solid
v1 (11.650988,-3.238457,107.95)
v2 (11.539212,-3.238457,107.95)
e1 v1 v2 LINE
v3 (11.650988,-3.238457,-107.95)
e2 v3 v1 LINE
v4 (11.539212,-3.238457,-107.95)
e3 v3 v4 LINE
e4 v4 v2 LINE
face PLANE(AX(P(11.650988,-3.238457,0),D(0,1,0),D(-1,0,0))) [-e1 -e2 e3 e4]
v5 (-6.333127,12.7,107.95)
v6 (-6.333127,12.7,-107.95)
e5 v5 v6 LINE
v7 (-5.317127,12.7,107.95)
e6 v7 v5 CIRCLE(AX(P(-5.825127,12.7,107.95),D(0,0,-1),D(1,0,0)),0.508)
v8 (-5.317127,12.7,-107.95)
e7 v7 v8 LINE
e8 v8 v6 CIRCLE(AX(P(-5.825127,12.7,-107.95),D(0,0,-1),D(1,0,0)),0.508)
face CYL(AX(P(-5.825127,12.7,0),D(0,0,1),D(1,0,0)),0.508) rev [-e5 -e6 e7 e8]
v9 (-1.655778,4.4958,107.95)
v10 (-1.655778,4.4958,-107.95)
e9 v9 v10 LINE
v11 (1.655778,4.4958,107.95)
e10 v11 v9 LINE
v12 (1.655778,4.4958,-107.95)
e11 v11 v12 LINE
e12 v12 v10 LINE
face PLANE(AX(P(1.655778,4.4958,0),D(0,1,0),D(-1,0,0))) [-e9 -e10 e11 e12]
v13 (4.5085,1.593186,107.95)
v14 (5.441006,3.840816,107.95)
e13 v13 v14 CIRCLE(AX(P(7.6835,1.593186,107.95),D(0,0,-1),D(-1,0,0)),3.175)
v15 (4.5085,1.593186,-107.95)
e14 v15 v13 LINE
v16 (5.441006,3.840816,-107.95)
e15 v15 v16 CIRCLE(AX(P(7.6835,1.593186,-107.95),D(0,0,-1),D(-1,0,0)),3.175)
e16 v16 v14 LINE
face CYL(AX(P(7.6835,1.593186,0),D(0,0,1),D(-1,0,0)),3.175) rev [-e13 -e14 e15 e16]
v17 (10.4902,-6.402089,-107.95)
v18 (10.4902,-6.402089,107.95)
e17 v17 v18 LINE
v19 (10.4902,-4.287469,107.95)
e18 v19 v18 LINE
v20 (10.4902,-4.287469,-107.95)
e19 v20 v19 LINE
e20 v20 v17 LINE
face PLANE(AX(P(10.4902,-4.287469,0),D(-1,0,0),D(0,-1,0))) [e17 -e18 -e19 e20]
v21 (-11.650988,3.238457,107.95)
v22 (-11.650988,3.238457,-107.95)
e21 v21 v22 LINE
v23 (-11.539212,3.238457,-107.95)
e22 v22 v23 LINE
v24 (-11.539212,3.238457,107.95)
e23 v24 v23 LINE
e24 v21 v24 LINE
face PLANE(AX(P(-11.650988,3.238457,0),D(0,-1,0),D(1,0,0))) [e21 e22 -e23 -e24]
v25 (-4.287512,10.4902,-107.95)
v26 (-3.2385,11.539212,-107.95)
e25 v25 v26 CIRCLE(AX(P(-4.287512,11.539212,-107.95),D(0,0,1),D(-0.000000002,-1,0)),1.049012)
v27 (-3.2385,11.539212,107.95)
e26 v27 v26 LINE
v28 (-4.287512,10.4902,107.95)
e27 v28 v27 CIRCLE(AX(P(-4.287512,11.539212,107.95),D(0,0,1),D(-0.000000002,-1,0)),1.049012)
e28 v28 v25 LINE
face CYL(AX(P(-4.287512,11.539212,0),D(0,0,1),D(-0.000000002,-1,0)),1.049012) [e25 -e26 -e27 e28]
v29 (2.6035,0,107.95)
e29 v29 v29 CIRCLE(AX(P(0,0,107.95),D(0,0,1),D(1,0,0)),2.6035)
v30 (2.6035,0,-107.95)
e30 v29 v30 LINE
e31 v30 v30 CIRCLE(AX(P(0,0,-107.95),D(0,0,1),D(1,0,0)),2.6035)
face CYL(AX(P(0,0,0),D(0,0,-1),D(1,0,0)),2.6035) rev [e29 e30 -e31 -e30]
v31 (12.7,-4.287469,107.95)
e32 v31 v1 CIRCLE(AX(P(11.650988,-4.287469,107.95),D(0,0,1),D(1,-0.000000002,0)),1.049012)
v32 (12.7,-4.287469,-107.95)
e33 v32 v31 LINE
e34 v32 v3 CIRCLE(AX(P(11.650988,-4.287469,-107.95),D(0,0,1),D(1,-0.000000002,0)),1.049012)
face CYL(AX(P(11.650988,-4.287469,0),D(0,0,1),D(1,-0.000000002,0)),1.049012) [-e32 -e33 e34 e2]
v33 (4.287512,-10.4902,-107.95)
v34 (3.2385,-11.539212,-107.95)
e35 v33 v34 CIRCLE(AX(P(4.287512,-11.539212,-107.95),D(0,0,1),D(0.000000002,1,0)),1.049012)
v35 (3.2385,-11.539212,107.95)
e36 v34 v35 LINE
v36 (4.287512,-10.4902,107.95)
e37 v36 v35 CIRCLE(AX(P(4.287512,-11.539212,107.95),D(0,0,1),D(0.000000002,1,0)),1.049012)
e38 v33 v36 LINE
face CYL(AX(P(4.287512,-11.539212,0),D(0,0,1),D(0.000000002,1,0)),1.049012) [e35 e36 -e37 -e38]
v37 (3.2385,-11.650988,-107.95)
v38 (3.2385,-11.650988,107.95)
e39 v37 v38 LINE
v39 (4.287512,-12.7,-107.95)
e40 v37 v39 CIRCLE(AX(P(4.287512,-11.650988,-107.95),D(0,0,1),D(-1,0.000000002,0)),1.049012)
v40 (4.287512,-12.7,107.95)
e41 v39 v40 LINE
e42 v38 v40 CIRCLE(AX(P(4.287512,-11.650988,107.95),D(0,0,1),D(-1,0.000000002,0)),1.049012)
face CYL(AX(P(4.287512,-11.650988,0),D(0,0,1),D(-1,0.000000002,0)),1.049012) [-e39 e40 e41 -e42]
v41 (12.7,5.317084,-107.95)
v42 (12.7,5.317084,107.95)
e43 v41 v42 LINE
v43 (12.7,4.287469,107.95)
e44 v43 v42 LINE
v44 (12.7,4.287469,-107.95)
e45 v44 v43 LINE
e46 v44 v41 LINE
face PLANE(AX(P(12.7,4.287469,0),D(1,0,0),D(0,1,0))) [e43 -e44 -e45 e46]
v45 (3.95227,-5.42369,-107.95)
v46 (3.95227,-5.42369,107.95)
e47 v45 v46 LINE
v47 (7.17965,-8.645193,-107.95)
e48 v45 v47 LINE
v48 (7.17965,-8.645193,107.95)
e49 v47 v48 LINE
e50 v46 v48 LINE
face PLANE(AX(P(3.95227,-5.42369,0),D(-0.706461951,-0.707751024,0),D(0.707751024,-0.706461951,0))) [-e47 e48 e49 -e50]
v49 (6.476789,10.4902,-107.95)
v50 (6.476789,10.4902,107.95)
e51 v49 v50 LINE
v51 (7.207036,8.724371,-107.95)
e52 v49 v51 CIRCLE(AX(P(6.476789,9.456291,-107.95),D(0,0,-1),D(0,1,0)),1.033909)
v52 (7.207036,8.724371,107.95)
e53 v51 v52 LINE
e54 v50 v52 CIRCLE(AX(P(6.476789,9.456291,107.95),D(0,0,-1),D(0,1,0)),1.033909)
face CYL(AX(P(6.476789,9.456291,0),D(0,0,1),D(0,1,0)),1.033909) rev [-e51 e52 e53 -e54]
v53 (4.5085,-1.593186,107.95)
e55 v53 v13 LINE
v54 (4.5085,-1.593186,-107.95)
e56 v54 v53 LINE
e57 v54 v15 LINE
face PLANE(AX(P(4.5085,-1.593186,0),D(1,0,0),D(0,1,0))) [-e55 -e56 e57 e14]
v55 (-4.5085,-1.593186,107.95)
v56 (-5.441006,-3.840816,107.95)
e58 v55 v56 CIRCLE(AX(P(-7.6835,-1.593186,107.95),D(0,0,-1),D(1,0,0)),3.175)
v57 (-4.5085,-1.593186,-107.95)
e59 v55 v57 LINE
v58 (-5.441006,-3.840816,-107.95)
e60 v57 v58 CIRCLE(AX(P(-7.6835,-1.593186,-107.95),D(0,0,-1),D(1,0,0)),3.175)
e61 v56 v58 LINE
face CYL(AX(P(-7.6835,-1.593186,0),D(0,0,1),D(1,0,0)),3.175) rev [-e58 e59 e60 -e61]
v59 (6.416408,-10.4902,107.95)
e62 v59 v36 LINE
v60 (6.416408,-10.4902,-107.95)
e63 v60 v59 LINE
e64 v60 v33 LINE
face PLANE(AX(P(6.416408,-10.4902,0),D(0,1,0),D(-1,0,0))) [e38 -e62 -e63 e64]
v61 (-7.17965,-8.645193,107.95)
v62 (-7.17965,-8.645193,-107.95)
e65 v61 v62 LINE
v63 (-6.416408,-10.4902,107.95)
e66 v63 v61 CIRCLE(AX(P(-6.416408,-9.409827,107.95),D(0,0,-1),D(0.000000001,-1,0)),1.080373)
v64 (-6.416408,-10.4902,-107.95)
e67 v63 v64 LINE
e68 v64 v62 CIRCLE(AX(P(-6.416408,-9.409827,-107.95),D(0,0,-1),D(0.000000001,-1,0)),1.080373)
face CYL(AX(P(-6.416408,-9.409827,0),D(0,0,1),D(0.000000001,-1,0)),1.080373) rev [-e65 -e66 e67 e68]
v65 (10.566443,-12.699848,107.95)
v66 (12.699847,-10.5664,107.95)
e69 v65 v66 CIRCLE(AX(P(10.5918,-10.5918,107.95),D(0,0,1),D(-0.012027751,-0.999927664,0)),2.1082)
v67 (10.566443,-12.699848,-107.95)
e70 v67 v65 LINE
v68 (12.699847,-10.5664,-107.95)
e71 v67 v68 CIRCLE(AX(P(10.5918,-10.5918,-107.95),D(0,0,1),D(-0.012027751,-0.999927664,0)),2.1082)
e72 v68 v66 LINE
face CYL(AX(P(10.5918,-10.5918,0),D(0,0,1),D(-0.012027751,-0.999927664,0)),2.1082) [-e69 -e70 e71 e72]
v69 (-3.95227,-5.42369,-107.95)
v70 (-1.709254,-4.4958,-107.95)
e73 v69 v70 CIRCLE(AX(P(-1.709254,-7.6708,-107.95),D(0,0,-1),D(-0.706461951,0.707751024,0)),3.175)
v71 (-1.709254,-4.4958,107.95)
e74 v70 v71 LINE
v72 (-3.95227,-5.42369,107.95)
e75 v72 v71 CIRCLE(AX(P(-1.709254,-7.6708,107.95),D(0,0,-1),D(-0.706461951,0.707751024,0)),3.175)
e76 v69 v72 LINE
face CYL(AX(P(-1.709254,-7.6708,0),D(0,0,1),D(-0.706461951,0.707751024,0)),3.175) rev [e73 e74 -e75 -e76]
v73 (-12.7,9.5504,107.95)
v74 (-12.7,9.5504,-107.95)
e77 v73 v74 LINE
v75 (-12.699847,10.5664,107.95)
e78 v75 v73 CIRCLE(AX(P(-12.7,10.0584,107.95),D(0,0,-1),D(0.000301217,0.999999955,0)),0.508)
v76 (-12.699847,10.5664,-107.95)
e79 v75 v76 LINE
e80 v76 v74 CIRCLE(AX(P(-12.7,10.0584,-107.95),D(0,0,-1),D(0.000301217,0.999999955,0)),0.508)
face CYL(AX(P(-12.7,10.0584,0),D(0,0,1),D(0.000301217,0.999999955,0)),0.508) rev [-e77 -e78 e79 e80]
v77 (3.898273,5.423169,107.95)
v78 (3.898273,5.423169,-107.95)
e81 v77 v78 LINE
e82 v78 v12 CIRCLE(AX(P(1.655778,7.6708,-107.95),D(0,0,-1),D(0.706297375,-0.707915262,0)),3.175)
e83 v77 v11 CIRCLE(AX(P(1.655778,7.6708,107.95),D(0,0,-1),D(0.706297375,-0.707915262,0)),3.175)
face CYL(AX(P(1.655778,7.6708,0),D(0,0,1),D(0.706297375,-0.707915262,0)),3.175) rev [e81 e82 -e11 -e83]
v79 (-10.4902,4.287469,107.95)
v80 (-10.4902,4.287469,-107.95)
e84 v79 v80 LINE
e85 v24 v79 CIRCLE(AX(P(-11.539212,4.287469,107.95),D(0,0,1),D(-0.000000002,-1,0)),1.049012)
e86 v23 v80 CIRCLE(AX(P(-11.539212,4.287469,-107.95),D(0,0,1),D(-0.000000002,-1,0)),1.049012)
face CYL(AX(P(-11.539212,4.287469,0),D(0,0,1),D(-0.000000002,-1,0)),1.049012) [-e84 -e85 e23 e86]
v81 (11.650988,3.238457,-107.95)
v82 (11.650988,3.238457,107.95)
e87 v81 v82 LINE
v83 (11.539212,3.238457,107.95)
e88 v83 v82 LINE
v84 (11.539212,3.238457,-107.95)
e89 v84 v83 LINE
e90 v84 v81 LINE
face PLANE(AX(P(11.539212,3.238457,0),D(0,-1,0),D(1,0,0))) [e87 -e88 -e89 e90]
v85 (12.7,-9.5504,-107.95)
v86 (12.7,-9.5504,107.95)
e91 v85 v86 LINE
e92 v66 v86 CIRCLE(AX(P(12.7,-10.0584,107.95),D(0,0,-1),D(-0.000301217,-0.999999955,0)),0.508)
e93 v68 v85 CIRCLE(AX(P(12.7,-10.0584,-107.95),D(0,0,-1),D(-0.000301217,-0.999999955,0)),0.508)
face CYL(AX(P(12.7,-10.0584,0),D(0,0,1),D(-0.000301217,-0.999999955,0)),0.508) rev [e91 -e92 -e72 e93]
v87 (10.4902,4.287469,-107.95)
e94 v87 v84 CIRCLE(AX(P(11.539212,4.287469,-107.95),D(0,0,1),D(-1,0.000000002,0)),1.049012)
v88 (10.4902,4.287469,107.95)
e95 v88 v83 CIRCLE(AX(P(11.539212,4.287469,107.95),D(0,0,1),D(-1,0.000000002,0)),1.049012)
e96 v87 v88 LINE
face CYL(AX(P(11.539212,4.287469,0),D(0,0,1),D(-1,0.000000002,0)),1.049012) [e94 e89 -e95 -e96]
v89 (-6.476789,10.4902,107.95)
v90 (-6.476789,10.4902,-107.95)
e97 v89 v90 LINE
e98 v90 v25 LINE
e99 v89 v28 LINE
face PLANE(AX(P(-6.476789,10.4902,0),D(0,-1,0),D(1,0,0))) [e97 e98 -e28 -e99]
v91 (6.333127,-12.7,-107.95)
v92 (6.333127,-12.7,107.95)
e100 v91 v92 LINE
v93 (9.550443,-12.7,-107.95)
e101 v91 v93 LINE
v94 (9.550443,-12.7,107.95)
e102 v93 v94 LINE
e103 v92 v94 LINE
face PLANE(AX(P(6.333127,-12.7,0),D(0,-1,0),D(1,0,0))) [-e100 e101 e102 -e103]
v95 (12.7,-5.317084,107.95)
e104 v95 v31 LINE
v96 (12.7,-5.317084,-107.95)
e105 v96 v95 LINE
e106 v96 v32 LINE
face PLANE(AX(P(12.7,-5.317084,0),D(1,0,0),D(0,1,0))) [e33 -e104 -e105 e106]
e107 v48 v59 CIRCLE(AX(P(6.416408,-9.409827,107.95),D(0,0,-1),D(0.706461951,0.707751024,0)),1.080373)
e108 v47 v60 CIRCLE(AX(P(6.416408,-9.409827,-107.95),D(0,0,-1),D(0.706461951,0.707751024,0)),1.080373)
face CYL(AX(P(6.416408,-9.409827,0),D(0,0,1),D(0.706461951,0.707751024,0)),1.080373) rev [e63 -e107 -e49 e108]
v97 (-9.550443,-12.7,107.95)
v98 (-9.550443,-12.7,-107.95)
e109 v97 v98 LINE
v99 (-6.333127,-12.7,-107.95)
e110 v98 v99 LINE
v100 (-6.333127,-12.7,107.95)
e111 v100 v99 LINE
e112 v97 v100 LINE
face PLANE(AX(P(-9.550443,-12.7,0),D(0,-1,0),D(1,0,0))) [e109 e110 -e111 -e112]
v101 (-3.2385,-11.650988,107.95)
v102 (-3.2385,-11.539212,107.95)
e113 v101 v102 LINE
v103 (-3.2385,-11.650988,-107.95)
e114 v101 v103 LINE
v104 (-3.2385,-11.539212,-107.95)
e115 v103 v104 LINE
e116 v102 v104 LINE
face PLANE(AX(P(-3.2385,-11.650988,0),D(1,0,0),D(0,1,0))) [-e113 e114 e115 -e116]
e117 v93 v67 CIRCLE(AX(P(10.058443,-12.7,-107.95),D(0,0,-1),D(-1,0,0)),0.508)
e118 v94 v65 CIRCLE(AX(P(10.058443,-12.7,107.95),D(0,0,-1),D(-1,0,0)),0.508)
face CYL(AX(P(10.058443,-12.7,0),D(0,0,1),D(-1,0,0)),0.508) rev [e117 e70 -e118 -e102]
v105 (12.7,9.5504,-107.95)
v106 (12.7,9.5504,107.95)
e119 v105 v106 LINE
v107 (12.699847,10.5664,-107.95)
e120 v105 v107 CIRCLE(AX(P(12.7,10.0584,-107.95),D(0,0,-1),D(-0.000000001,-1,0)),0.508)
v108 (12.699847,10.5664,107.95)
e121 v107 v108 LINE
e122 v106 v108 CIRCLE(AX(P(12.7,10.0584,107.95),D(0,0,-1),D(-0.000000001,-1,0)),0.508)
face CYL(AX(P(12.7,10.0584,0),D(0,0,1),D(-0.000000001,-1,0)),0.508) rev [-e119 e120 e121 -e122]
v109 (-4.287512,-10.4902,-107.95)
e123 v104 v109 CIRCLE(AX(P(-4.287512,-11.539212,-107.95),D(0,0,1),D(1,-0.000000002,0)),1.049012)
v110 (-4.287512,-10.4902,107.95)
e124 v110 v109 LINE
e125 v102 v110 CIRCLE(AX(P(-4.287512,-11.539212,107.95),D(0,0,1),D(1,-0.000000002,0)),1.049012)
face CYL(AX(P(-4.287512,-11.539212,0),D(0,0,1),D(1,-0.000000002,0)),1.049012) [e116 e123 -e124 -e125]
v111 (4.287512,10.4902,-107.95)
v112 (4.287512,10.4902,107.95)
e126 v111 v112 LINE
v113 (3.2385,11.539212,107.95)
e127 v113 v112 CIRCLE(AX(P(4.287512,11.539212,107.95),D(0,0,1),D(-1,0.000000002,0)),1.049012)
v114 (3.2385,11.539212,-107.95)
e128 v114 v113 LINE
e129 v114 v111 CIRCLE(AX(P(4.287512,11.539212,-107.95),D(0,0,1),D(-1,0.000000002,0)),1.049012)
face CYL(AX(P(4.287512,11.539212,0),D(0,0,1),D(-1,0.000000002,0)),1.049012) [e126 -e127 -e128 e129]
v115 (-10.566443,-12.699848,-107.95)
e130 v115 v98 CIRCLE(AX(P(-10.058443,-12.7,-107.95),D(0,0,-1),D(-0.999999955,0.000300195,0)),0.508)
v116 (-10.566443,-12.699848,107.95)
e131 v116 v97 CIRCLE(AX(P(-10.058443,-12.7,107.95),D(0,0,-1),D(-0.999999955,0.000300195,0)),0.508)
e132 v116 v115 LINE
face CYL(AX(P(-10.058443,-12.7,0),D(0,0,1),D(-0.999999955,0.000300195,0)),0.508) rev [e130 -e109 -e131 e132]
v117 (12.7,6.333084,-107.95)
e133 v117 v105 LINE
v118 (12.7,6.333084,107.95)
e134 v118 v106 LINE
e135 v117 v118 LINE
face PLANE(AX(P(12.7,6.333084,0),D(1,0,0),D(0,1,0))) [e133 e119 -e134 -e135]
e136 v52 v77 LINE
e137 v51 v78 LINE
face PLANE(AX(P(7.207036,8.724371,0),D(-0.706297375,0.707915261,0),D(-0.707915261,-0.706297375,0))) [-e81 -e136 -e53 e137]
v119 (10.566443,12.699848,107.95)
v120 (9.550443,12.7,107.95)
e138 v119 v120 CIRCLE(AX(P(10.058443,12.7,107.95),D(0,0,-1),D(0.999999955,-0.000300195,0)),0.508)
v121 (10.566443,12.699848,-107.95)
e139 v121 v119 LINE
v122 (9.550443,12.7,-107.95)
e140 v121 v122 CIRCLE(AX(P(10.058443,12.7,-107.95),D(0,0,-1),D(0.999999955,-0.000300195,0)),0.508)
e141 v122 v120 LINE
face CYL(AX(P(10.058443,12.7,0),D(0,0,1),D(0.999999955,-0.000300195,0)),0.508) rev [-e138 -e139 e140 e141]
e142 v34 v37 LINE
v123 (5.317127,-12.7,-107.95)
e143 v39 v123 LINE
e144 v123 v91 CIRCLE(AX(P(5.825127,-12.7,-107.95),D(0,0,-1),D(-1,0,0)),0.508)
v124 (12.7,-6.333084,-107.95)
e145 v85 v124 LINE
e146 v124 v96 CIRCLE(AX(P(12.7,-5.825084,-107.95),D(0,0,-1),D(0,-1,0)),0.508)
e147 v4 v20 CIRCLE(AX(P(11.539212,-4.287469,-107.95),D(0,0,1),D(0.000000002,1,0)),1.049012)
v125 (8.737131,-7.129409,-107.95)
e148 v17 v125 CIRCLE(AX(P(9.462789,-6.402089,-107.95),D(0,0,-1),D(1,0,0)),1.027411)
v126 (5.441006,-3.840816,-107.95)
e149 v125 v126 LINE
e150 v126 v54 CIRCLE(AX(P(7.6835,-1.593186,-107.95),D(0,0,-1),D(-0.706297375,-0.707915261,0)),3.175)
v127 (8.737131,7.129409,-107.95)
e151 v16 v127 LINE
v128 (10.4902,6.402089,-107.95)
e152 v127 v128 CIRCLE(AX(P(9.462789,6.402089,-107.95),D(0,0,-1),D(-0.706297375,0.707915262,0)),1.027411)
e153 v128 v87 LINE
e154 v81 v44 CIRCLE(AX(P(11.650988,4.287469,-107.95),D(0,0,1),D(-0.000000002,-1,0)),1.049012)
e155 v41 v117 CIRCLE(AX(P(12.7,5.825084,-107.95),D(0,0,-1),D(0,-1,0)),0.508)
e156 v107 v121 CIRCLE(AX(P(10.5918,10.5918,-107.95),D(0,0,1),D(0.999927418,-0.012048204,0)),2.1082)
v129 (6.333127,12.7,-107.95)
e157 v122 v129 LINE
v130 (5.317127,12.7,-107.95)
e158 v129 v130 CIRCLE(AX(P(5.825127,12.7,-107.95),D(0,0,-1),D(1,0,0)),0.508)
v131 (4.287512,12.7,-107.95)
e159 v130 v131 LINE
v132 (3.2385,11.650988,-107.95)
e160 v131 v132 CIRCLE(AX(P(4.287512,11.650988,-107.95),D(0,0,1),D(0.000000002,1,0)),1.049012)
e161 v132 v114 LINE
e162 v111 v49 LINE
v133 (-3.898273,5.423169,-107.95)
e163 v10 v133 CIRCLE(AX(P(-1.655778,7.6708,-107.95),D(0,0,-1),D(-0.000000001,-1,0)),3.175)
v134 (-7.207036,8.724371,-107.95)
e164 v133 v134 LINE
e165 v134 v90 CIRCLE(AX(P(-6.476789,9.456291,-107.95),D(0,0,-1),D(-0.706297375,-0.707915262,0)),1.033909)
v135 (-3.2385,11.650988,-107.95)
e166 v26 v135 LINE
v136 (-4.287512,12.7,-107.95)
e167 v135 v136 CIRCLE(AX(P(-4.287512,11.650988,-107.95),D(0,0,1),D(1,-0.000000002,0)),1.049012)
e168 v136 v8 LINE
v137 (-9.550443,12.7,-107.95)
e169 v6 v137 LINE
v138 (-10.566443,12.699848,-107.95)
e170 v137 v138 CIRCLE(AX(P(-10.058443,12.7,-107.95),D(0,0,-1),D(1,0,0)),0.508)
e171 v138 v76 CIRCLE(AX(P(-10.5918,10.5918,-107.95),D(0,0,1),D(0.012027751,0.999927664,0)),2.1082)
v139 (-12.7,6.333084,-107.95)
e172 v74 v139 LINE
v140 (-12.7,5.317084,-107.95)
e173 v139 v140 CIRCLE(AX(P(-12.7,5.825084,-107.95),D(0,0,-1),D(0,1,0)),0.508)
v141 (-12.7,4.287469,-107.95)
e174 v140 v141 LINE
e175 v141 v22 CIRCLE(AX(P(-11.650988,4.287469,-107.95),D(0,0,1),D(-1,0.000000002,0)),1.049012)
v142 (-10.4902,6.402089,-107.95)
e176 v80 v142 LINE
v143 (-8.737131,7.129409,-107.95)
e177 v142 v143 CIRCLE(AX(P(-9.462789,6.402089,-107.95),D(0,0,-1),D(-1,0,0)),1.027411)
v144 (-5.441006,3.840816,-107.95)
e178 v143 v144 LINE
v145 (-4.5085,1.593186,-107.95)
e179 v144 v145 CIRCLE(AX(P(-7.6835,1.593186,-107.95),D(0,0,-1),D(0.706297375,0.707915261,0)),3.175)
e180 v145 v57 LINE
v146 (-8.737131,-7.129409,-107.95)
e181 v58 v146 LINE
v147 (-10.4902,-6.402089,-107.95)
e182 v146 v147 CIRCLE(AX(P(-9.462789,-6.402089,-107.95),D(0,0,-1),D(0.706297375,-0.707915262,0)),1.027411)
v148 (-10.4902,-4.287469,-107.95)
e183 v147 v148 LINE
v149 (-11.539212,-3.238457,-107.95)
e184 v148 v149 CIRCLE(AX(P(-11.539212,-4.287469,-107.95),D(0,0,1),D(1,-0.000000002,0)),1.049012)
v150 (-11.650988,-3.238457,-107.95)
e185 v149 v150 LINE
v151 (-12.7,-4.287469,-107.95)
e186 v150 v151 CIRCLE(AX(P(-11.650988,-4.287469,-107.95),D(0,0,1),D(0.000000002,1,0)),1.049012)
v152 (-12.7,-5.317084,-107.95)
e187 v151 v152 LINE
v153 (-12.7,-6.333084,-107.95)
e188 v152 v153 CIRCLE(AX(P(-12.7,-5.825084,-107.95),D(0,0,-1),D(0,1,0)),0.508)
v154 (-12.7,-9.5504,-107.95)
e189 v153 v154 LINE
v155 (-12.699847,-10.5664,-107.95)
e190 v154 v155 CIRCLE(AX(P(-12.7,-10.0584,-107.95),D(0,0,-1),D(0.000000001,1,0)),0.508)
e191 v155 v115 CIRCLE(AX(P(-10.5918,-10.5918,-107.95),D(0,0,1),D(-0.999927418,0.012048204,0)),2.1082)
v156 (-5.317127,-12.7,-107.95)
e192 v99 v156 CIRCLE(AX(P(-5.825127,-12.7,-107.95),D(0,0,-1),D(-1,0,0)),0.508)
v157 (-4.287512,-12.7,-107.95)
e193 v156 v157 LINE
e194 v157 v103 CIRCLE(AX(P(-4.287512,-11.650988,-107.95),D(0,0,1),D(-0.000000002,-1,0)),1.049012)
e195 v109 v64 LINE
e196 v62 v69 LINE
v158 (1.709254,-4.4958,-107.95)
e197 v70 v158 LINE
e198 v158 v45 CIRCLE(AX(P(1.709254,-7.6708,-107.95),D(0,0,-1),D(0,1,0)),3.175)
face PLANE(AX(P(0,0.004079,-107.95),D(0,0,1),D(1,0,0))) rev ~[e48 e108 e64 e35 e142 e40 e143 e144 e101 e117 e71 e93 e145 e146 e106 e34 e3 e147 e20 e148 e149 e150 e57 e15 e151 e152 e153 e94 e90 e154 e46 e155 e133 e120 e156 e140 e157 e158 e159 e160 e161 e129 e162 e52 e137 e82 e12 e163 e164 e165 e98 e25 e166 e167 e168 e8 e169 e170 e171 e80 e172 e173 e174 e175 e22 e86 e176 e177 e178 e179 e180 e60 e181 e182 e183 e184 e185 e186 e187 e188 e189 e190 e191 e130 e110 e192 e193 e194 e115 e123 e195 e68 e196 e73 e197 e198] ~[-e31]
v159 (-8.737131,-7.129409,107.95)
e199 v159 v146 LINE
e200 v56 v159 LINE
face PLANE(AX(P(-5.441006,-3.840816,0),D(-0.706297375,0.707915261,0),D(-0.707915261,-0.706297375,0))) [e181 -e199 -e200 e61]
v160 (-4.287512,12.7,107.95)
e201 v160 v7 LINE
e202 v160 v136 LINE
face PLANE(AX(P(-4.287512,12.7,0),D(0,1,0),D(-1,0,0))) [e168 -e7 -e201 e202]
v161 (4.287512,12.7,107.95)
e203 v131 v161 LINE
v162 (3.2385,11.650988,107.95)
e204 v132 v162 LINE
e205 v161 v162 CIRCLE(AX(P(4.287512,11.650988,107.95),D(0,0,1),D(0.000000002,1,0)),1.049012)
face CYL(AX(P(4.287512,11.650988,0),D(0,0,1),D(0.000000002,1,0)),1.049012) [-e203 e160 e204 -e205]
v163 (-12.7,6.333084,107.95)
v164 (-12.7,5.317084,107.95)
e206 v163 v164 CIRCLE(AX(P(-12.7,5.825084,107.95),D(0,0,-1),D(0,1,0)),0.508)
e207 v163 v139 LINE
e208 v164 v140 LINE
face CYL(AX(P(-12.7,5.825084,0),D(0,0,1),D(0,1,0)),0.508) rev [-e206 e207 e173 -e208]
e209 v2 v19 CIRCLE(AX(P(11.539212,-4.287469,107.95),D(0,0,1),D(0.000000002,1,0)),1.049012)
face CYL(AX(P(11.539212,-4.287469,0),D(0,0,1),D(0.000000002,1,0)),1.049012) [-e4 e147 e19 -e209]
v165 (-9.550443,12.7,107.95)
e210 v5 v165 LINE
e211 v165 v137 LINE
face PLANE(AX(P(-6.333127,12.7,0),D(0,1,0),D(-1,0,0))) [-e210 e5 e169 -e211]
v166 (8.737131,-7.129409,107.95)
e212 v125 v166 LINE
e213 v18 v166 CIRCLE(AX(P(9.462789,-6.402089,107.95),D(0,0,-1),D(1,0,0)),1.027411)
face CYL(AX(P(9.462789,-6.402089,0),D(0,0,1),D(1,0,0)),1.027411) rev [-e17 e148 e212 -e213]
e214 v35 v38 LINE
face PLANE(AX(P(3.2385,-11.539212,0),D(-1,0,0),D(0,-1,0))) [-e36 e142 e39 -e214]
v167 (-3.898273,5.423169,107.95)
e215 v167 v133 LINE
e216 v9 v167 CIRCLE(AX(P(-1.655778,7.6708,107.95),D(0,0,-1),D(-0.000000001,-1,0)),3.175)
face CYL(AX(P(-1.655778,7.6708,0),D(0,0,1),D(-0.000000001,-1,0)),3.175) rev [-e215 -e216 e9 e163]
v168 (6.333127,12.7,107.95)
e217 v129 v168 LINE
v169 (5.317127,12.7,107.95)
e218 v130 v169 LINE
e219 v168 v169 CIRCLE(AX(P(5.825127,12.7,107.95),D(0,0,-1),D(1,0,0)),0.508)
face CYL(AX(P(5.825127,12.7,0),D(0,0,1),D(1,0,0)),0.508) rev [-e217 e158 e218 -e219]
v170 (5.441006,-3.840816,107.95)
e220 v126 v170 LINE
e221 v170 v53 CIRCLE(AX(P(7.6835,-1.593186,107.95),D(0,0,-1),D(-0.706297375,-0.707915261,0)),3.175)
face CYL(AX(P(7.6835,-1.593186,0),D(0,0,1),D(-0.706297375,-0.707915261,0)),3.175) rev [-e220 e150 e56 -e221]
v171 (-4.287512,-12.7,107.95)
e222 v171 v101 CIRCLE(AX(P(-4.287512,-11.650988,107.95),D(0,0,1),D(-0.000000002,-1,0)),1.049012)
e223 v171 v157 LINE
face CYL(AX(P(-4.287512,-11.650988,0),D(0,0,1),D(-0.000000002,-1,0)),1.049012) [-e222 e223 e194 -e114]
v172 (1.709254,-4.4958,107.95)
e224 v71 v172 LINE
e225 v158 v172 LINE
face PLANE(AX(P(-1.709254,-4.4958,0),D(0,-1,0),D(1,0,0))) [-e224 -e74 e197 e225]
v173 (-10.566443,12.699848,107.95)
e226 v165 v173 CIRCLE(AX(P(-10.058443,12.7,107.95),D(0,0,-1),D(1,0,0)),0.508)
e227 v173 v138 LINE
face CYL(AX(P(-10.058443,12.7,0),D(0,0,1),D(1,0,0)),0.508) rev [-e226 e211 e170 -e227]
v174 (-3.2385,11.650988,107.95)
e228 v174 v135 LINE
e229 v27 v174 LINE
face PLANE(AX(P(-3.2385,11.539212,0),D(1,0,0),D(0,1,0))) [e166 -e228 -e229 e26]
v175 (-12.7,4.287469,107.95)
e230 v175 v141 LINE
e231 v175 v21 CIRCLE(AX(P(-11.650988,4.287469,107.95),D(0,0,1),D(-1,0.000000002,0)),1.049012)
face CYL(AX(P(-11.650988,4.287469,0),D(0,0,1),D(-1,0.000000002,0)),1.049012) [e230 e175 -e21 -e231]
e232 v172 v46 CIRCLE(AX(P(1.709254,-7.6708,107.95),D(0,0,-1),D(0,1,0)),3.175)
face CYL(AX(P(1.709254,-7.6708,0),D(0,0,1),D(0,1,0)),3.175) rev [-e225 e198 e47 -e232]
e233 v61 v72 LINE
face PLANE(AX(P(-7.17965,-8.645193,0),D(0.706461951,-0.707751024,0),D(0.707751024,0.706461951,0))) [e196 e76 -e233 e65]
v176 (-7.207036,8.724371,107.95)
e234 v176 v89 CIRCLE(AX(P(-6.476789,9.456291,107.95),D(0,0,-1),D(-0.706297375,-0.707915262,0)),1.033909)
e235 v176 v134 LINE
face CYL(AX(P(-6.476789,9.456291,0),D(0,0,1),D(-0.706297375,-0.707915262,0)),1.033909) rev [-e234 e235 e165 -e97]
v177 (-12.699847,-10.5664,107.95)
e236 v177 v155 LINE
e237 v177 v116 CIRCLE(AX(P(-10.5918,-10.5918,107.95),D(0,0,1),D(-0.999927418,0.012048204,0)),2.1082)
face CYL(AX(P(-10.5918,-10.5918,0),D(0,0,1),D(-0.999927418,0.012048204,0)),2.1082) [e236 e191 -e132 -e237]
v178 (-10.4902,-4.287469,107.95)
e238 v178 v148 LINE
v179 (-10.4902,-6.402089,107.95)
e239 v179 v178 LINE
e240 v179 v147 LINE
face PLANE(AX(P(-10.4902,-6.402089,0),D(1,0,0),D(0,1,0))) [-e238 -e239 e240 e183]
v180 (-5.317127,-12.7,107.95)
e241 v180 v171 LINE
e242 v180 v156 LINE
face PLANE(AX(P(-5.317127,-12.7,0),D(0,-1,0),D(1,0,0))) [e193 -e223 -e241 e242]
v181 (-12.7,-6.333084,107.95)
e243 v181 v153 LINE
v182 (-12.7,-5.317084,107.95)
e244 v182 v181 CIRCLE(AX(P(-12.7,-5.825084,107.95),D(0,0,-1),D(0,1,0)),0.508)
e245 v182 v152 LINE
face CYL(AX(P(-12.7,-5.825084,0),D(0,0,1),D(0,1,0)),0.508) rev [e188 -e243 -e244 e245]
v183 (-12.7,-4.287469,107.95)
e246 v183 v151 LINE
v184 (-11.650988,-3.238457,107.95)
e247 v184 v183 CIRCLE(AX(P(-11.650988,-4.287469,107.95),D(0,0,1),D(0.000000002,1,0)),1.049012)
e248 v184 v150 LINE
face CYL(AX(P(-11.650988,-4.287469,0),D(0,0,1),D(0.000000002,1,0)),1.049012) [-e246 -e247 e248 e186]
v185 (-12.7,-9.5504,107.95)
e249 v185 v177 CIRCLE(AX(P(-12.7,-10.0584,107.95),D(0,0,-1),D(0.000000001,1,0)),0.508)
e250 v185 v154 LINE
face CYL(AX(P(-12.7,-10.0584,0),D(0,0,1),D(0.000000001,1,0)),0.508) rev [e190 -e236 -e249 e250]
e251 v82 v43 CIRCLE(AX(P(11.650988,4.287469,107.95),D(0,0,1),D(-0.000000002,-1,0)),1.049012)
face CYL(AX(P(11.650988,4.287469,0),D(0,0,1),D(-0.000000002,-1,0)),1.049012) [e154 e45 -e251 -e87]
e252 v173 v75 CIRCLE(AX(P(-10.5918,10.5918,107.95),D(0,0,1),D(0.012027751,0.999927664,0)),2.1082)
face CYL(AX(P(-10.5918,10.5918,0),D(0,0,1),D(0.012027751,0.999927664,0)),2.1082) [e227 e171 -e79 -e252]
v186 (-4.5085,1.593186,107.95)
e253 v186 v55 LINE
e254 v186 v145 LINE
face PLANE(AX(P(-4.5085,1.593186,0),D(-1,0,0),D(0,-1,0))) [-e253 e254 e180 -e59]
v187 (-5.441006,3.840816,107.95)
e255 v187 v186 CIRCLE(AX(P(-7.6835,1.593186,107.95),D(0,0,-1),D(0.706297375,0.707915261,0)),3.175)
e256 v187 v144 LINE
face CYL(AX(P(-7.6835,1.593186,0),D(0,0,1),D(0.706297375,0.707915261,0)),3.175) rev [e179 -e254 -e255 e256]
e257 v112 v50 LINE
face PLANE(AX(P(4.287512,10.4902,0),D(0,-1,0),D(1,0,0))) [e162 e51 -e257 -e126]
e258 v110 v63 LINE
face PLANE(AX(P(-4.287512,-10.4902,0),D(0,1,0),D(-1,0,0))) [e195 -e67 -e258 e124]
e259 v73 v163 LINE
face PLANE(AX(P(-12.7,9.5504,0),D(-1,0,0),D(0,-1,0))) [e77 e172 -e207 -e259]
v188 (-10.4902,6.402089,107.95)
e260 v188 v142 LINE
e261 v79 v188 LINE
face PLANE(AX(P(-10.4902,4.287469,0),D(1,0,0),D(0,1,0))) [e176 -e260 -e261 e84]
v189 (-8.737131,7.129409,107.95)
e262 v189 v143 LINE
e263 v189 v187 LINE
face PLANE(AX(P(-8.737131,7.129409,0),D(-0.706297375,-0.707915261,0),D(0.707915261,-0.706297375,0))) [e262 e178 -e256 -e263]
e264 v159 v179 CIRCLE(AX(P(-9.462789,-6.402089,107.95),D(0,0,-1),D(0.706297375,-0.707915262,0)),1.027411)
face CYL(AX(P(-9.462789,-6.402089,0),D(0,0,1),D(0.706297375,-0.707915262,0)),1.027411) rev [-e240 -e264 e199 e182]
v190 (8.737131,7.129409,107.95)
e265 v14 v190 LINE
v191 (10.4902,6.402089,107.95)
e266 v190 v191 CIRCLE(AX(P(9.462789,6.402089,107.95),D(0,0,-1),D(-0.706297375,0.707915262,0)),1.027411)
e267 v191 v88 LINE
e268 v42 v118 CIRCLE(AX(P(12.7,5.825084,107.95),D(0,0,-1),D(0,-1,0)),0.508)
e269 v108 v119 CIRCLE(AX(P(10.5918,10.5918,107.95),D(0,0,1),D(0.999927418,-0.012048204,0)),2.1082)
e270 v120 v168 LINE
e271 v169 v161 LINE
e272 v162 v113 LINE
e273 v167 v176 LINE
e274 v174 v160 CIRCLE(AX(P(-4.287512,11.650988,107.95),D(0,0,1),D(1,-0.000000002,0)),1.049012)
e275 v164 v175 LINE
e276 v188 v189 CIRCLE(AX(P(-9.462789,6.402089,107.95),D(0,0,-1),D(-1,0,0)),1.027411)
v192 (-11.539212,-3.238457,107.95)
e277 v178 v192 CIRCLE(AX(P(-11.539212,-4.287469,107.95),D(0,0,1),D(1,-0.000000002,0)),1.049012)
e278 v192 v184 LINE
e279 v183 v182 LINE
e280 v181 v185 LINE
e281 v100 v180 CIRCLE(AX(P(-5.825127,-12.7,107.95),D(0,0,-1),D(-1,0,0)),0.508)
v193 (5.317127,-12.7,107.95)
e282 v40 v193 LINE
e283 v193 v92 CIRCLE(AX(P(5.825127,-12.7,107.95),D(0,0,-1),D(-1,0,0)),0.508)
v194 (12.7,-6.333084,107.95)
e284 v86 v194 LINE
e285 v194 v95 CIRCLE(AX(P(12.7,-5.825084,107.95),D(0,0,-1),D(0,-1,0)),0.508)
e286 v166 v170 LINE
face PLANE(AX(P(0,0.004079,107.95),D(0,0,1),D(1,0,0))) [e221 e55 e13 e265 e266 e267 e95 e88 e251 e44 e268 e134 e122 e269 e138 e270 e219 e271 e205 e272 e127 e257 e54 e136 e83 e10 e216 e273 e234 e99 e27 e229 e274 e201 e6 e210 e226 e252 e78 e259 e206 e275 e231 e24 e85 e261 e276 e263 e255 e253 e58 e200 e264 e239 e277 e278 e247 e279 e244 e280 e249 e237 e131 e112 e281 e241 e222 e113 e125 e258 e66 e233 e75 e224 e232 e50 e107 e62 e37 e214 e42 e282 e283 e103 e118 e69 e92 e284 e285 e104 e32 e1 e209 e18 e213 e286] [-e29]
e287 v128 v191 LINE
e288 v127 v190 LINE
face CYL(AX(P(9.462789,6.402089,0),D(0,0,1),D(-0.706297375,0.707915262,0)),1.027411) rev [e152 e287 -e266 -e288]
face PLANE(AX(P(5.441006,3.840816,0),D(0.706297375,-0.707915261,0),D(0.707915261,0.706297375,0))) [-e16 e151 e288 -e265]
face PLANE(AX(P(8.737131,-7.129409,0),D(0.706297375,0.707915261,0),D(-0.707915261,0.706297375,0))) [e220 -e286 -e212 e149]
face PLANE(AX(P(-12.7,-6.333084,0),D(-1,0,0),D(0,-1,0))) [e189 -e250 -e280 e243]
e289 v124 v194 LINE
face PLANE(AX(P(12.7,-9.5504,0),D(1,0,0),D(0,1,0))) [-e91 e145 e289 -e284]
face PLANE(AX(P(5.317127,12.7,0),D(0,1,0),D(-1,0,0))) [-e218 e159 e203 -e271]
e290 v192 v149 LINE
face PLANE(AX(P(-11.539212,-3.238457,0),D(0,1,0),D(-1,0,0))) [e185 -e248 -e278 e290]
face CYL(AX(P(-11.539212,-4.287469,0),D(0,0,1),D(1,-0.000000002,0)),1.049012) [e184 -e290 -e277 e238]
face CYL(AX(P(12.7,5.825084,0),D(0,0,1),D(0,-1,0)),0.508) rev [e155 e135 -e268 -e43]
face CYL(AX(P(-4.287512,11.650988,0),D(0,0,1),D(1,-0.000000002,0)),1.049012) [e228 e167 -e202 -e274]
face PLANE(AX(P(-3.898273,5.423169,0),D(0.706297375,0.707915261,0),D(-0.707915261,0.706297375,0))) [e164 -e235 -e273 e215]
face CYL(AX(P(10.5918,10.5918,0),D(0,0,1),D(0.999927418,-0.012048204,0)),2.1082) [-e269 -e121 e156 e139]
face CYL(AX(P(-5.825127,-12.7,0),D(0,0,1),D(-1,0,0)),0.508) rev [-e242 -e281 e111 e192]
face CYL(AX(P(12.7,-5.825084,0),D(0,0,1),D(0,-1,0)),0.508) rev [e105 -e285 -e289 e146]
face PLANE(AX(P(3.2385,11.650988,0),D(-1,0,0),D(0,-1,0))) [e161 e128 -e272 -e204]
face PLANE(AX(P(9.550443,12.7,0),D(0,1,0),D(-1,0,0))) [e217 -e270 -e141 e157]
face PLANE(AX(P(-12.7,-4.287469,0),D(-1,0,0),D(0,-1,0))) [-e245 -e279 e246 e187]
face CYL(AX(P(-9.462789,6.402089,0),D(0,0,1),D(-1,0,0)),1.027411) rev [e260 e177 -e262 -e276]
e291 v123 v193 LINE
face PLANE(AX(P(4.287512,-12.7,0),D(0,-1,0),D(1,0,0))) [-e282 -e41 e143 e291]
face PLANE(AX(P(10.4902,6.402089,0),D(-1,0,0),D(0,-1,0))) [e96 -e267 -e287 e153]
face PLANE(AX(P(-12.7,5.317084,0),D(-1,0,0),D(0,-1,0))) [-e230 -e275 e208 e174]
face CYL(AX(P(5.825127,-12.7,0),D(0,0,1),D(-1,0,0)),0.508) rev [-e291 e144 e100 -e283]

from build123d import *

# Parameters (mm, degrees)
SKETCH1_R           = 2.6035
BOSS_EXTRUDE1_DEPTH = 107.95


with BuildPart() as part:
    # Sketch1 → Boss-Extrude1 (new, symmetric)
    with BuildSketch(Plane.XY):
        with BuildLine():
            Line((-7.179650497, -8.645192506), (-3.952270251, -5.423690499))
            ThreePointArc((-3.952270251, -5.423690499), (-2.922936451, -4.736929036), (-1.709253557, -4.4958))
            Line((-1.709253557, -4.4958), (1.709253557, -4.4958))
            ThreePointArc((1.709253557, -4.4958), (2.922936451, -4.736929036), (3.952270251, -5.423690499))
            Line((3.952270251, -5.423690499), (7.179650497, -8.645192506))
            ThreePointArc((7.179650497, -8.645192506), (7.41473083, -9.822813117), (6.416408329, -10.4902))
            Line((6.416408329, -10.4902), (4.287512407, -10.4902))
            ThreePointArc((4.287512407, -10.4902), (3.54574862, -10.79744862), (3.2385, -11.539212407))
            Line((3.2385, -11.539212407), (3.2385, -11.650987593))
            ThreePointArc((3.2385, -11.650987593), (3.54574862, -12.39275138), (4.287512407, -12.7))
            Line((4.287512407, -12.7), (5.317126718, -12.7))
            ThreePointArc((5.317126718, -12.7), (5.825126718, -12.192), (6.333126718, -12.7))
            Line((6.333126718, -12.7), (9.550443118, -12.7))
            ThreePointArc((9.550443118, -12.7), (10.058366869, -12.192000006), (10.566443095, -12.699847501))
            ThreePointArc((10.566443095, -12.699847501), (12.082537762, -12.08250727), (12.699846982, -10.566399977))
            ThreePointArc((12.699846982, -10.566399977), (12.192000006, -10.058323491), (12.7, -9.5504))
            Line((12.7, -9.5504), (12.7, -6.3330836))
            ThreePointArc((12.7, -6.3330836), (12.192, -5.8250836), (12.7, -5.3170836))
            Line((12.7, -5.3170836), (12.7, -4.287469289))
            ThreePointArc((12.7, -4.287469289), (12.39275138, -3.545705502), (11.650987593, -3.238456882))
            Line((11.650987593, -3.238456882), (11.539212407, -3.238456882))
            ThreePointArc((11.539212407, -3.238456882), (10.79744862, -3.545705502), (10.4902, -4.287469289))
            Line((10.4902, -4.287469289), (10.4902, -6.402089023))
            ThreePointArc((10.4902, -6.402089023), (9.856505071, -7.351067942), (8.737131347, -7.129408934))
            Line((8.737131347, -7.129408934), (5.441005833, -3.840816462))
            ThreePointArc((5.441005833, -3.840816462), (4.750877967, -2.809883091), (4.5085, -1.593185507))
            Line((4.5085, -1.593185507), (4.5085, 1.593185507))
            ThreePointArc((4.5085, 1.593185507), (4.750877967, 2.809883091), (5.441005833, 3.840816462))
            Line((5.441005833, 3.840816462), (8.737131347, 7.129408934))
            ThreePointArc((8.737131347, 7.129408934), (9.856505071, 7.351067942), (10.4902, 6.402089023))
            Line((10.4902, 6.402089023), (10.4902, 4.287469289))
            ThreePointArc((10.4902, 4.287469289), (10.79744862, 3.545705502), (11.539212407, 3.238456882))
            Line((11.539212407, 3.238456882), (11.650987593, 3.238456882))
            ThreePointArc((11.650987593, 3.238456882), (12.39275138, 3.545705502), (12.7, 4.287469289))
            Line((12.7, 4.287469289), (12.7, 5.3170836))
            ThreePointArc((12.7, 5.3170836), (12.192, 5.8250836), (12.7, 6.3330836))
            Line((12.7, 6.3330836), (12.7, 9.5504))
            ThreePointArc((12.7, 9.5504), (12.192000006, 10.058323491), (12.699846982, 10.566399977))
            ThreePointArc((12.699846982, 10.566399977), (12.082537762, 12.08250727), (10.566443095, 12.699847501))
            ThreePointArc((10.566443095, 12.699847501), (10.058366869, 12.192000006), (9.550443118, 12.7))
            Line((9.550443118, 12.7), (6.333126718, 12.7))
            ThreePointArc((6.333126718, 12.7), (5.825126718, 12.192), (5.317126718, 12.7))
            Line((5.317126718, 12.7), (4.287512407, 12.7))
            ThreePointArc((4.287512407, 12.7), (3.54574862, 12.39275138), (3.2385, 11.650987593))
            Line((3.2385, 11.650987593), (3.2385, 11.539212407))
            ThreePointArc((3.2385, 11.539212407), (3.54574862, 10.79744862), (4.287512407, 10.4902))
            Line((4.287512407, 10.4902), (6.476788598, 10.4902))
            ThreePointArc((6.476788598, 10.4902), (7.432222385, 9.85140422), (7.207036008, 8.724370562))
            Line((7.207036008, 8.724370562), (3.898272566, 5.423169045))
            ThreePointArc((3.898272566, 5.423169045), (2.869120213, 4.736787962), (1.655778399, 4.4958))
            Line((1.655778399, 4.4958), (-1.655778399, 4.4958))
            ThreePointArc((-1.655778399, 4.4958), (-2.869120213, 4.736787962), (-3.898272566, 5.423169045))
            Line((-3.898272566, 5.423169045), (-7.207036008, 8.724370562))
            ThreePointArc((-7.207036008, 8.724370562), (-7.432222385, 9.85140422), (-6.476788598, 10.4902))
            Line((-6.476788598, 10.4902), (-4.287512407, 10.4902))
            ThreePointArc((-4.287512407, 10.4902), (-3.54574862, 10.79744862), (-3.2385, 11.539212407))
            Line((-3.2385, 11.539212407), (-3.2385, 11.650987593))
            ThreePointArc((-3.2385, 11.650987593), (-3.54574862, 12.39275138), (-4.287512407, 12.7))
            Line((-4.287512407, 12.7), (-5.317126718, 12.7))
            ThreePointArc((-5.317126718, 12.7), (-5.825126718, 12.192), (-6.333126718, 12.7))
            Line((-6.333126718, 12.7), (-9.550443118, 12.7))
            ThreePointArc((-9.550443118, 12.7), (-10.058366869, 12.192000006), (-10.566443095, 12.699847501))
            ThreePointArc((-10.566443095, 12.699847501), (-12.082537762, 12.08250727), (-12.699846982, 10.566399977))
            ThreePointArc((-12.699846982, 10.566399977), (-12.192000006, 10.058323491), (-12.7, 9.5504))
            Line((-12.7, 9.5504), (-12.7, 6.3330836))
            ThreePointArc((-12.7, 6.3330836), (-12.192, 5.8250836), (-12.7, 5.3170836))
            Line((-12.7, 5.3170836), (-12.7, 4.287469289))
            ThreePointArc((-12.7, 4.287469289), (-12.39275138, 3.545705502), (-11.650987593, 3.238456882))
            Line((-11.650987593, 3.238456882), (-11.539212407, 3.238456882))
            ThreePointArc((-11.539212407, 3.238456882), (-10.79744862, 3.545705502), (-10.4902, 4.287469289))
            Line((-10.4902, 4.287469289), (-10.4902, 6.402089023))
            ThreePointArc((-10.4902, 6.402089023), (-9.856505071, 7.351067942), (-8.737131347, 7.129408934))
            Line((-8.737131347, 7.129408934), (-5.441005833, 3.840816462))
            ThreePointArc((-5.441005833, 3.840816462), (-4.750877967, 2.809883091), (-4.5085, 1.593185507))
            Line((-4.5085, 1.593185507), (-4.5085, -1.593185507))
            ThreePointArc((-4.5085, -1.593185507), (-4.750877967, -2.809883091), (-5.441005833, -3.840816462))
            Line((-5.441005833, -3.840816462), (-8.737131347, -7.129408934))
            ThreePointArc((-8.737131347, -7.129408934), (-9.856505071, -7.351067942), (-10.4902, -6.402089023))
            Line((-10.4902, -6.402089023), (-10.4902, -4.287469289))
            ThreePointArc((-10.4902, -4.287469289), (-10.79744862, -3.545705502), (-11.539212407, -3.238456882))
            Line((-11.539212407, -3.238456882), (-11.650987593, -3.238456882))
            ThreePointArc((-11.650987593, -3.238456882), (-12.39275138, -3.545705502), (-12.7, -4.287469289))
            Line((-12.7, -4.287469289), (-12.7, -5.3170836))
            ThreePointArc((-12.7, -5.3170836), (-12.192, -5.8250836), (-12.7, -6.3330836))
            Line((-12.7, -6.3330836), (-12.7, -9.5504))
            ThreePointArc((-12.7, -9.5504), (-12.192000006, -10.058323491), (-12.699846982, -10.566399977))
            ThreePointArc((-12.699846982, -10.566399977), (-12.082537762, -12.08250727), (-10.566443095, -12.699847501))
            ThreePointArc((-10.566443095, -12.699847501), (-10.058366869, -12.192000006), (-9.550443118, -12.7))
            Line((-9.550443118, -12.7), (-6.333126718, -12.7))
            ThreePointArc((-6.333126718, -12.7), (-5.825126718, -12.192), (-5.317126718, -12.7))
            Line((-5.317126718, -12.7), (-4.287512407, -12.7))
            ThreePointArc((-4.287512407, -12.7), (-3.54574862, -12.39275138), (-3.2385, -11.650987593))
            Line((-3.2385, -11.650987593), (-3.2385, -11.539212407))
            ThreePointArc((-3.2385, -11.539212407), (-3.54574862, -10.79744862), (-4.287512407, -10.4902))
            Line((-4.287512407, -10.4902), (-6.416408329, -10.4902))
            ThreePointArc((-6.416408329, -10.4902), (-7.41473083, -9.822813117), (-7.179650497, -8.645192506))
        make_face()
        Circle(SKETCH1_R, mode=Mode.SUBTRACT)
    extrude(amount=BOSS_EXTRUDE1_DEPTH, both=True)


solid = part.part
